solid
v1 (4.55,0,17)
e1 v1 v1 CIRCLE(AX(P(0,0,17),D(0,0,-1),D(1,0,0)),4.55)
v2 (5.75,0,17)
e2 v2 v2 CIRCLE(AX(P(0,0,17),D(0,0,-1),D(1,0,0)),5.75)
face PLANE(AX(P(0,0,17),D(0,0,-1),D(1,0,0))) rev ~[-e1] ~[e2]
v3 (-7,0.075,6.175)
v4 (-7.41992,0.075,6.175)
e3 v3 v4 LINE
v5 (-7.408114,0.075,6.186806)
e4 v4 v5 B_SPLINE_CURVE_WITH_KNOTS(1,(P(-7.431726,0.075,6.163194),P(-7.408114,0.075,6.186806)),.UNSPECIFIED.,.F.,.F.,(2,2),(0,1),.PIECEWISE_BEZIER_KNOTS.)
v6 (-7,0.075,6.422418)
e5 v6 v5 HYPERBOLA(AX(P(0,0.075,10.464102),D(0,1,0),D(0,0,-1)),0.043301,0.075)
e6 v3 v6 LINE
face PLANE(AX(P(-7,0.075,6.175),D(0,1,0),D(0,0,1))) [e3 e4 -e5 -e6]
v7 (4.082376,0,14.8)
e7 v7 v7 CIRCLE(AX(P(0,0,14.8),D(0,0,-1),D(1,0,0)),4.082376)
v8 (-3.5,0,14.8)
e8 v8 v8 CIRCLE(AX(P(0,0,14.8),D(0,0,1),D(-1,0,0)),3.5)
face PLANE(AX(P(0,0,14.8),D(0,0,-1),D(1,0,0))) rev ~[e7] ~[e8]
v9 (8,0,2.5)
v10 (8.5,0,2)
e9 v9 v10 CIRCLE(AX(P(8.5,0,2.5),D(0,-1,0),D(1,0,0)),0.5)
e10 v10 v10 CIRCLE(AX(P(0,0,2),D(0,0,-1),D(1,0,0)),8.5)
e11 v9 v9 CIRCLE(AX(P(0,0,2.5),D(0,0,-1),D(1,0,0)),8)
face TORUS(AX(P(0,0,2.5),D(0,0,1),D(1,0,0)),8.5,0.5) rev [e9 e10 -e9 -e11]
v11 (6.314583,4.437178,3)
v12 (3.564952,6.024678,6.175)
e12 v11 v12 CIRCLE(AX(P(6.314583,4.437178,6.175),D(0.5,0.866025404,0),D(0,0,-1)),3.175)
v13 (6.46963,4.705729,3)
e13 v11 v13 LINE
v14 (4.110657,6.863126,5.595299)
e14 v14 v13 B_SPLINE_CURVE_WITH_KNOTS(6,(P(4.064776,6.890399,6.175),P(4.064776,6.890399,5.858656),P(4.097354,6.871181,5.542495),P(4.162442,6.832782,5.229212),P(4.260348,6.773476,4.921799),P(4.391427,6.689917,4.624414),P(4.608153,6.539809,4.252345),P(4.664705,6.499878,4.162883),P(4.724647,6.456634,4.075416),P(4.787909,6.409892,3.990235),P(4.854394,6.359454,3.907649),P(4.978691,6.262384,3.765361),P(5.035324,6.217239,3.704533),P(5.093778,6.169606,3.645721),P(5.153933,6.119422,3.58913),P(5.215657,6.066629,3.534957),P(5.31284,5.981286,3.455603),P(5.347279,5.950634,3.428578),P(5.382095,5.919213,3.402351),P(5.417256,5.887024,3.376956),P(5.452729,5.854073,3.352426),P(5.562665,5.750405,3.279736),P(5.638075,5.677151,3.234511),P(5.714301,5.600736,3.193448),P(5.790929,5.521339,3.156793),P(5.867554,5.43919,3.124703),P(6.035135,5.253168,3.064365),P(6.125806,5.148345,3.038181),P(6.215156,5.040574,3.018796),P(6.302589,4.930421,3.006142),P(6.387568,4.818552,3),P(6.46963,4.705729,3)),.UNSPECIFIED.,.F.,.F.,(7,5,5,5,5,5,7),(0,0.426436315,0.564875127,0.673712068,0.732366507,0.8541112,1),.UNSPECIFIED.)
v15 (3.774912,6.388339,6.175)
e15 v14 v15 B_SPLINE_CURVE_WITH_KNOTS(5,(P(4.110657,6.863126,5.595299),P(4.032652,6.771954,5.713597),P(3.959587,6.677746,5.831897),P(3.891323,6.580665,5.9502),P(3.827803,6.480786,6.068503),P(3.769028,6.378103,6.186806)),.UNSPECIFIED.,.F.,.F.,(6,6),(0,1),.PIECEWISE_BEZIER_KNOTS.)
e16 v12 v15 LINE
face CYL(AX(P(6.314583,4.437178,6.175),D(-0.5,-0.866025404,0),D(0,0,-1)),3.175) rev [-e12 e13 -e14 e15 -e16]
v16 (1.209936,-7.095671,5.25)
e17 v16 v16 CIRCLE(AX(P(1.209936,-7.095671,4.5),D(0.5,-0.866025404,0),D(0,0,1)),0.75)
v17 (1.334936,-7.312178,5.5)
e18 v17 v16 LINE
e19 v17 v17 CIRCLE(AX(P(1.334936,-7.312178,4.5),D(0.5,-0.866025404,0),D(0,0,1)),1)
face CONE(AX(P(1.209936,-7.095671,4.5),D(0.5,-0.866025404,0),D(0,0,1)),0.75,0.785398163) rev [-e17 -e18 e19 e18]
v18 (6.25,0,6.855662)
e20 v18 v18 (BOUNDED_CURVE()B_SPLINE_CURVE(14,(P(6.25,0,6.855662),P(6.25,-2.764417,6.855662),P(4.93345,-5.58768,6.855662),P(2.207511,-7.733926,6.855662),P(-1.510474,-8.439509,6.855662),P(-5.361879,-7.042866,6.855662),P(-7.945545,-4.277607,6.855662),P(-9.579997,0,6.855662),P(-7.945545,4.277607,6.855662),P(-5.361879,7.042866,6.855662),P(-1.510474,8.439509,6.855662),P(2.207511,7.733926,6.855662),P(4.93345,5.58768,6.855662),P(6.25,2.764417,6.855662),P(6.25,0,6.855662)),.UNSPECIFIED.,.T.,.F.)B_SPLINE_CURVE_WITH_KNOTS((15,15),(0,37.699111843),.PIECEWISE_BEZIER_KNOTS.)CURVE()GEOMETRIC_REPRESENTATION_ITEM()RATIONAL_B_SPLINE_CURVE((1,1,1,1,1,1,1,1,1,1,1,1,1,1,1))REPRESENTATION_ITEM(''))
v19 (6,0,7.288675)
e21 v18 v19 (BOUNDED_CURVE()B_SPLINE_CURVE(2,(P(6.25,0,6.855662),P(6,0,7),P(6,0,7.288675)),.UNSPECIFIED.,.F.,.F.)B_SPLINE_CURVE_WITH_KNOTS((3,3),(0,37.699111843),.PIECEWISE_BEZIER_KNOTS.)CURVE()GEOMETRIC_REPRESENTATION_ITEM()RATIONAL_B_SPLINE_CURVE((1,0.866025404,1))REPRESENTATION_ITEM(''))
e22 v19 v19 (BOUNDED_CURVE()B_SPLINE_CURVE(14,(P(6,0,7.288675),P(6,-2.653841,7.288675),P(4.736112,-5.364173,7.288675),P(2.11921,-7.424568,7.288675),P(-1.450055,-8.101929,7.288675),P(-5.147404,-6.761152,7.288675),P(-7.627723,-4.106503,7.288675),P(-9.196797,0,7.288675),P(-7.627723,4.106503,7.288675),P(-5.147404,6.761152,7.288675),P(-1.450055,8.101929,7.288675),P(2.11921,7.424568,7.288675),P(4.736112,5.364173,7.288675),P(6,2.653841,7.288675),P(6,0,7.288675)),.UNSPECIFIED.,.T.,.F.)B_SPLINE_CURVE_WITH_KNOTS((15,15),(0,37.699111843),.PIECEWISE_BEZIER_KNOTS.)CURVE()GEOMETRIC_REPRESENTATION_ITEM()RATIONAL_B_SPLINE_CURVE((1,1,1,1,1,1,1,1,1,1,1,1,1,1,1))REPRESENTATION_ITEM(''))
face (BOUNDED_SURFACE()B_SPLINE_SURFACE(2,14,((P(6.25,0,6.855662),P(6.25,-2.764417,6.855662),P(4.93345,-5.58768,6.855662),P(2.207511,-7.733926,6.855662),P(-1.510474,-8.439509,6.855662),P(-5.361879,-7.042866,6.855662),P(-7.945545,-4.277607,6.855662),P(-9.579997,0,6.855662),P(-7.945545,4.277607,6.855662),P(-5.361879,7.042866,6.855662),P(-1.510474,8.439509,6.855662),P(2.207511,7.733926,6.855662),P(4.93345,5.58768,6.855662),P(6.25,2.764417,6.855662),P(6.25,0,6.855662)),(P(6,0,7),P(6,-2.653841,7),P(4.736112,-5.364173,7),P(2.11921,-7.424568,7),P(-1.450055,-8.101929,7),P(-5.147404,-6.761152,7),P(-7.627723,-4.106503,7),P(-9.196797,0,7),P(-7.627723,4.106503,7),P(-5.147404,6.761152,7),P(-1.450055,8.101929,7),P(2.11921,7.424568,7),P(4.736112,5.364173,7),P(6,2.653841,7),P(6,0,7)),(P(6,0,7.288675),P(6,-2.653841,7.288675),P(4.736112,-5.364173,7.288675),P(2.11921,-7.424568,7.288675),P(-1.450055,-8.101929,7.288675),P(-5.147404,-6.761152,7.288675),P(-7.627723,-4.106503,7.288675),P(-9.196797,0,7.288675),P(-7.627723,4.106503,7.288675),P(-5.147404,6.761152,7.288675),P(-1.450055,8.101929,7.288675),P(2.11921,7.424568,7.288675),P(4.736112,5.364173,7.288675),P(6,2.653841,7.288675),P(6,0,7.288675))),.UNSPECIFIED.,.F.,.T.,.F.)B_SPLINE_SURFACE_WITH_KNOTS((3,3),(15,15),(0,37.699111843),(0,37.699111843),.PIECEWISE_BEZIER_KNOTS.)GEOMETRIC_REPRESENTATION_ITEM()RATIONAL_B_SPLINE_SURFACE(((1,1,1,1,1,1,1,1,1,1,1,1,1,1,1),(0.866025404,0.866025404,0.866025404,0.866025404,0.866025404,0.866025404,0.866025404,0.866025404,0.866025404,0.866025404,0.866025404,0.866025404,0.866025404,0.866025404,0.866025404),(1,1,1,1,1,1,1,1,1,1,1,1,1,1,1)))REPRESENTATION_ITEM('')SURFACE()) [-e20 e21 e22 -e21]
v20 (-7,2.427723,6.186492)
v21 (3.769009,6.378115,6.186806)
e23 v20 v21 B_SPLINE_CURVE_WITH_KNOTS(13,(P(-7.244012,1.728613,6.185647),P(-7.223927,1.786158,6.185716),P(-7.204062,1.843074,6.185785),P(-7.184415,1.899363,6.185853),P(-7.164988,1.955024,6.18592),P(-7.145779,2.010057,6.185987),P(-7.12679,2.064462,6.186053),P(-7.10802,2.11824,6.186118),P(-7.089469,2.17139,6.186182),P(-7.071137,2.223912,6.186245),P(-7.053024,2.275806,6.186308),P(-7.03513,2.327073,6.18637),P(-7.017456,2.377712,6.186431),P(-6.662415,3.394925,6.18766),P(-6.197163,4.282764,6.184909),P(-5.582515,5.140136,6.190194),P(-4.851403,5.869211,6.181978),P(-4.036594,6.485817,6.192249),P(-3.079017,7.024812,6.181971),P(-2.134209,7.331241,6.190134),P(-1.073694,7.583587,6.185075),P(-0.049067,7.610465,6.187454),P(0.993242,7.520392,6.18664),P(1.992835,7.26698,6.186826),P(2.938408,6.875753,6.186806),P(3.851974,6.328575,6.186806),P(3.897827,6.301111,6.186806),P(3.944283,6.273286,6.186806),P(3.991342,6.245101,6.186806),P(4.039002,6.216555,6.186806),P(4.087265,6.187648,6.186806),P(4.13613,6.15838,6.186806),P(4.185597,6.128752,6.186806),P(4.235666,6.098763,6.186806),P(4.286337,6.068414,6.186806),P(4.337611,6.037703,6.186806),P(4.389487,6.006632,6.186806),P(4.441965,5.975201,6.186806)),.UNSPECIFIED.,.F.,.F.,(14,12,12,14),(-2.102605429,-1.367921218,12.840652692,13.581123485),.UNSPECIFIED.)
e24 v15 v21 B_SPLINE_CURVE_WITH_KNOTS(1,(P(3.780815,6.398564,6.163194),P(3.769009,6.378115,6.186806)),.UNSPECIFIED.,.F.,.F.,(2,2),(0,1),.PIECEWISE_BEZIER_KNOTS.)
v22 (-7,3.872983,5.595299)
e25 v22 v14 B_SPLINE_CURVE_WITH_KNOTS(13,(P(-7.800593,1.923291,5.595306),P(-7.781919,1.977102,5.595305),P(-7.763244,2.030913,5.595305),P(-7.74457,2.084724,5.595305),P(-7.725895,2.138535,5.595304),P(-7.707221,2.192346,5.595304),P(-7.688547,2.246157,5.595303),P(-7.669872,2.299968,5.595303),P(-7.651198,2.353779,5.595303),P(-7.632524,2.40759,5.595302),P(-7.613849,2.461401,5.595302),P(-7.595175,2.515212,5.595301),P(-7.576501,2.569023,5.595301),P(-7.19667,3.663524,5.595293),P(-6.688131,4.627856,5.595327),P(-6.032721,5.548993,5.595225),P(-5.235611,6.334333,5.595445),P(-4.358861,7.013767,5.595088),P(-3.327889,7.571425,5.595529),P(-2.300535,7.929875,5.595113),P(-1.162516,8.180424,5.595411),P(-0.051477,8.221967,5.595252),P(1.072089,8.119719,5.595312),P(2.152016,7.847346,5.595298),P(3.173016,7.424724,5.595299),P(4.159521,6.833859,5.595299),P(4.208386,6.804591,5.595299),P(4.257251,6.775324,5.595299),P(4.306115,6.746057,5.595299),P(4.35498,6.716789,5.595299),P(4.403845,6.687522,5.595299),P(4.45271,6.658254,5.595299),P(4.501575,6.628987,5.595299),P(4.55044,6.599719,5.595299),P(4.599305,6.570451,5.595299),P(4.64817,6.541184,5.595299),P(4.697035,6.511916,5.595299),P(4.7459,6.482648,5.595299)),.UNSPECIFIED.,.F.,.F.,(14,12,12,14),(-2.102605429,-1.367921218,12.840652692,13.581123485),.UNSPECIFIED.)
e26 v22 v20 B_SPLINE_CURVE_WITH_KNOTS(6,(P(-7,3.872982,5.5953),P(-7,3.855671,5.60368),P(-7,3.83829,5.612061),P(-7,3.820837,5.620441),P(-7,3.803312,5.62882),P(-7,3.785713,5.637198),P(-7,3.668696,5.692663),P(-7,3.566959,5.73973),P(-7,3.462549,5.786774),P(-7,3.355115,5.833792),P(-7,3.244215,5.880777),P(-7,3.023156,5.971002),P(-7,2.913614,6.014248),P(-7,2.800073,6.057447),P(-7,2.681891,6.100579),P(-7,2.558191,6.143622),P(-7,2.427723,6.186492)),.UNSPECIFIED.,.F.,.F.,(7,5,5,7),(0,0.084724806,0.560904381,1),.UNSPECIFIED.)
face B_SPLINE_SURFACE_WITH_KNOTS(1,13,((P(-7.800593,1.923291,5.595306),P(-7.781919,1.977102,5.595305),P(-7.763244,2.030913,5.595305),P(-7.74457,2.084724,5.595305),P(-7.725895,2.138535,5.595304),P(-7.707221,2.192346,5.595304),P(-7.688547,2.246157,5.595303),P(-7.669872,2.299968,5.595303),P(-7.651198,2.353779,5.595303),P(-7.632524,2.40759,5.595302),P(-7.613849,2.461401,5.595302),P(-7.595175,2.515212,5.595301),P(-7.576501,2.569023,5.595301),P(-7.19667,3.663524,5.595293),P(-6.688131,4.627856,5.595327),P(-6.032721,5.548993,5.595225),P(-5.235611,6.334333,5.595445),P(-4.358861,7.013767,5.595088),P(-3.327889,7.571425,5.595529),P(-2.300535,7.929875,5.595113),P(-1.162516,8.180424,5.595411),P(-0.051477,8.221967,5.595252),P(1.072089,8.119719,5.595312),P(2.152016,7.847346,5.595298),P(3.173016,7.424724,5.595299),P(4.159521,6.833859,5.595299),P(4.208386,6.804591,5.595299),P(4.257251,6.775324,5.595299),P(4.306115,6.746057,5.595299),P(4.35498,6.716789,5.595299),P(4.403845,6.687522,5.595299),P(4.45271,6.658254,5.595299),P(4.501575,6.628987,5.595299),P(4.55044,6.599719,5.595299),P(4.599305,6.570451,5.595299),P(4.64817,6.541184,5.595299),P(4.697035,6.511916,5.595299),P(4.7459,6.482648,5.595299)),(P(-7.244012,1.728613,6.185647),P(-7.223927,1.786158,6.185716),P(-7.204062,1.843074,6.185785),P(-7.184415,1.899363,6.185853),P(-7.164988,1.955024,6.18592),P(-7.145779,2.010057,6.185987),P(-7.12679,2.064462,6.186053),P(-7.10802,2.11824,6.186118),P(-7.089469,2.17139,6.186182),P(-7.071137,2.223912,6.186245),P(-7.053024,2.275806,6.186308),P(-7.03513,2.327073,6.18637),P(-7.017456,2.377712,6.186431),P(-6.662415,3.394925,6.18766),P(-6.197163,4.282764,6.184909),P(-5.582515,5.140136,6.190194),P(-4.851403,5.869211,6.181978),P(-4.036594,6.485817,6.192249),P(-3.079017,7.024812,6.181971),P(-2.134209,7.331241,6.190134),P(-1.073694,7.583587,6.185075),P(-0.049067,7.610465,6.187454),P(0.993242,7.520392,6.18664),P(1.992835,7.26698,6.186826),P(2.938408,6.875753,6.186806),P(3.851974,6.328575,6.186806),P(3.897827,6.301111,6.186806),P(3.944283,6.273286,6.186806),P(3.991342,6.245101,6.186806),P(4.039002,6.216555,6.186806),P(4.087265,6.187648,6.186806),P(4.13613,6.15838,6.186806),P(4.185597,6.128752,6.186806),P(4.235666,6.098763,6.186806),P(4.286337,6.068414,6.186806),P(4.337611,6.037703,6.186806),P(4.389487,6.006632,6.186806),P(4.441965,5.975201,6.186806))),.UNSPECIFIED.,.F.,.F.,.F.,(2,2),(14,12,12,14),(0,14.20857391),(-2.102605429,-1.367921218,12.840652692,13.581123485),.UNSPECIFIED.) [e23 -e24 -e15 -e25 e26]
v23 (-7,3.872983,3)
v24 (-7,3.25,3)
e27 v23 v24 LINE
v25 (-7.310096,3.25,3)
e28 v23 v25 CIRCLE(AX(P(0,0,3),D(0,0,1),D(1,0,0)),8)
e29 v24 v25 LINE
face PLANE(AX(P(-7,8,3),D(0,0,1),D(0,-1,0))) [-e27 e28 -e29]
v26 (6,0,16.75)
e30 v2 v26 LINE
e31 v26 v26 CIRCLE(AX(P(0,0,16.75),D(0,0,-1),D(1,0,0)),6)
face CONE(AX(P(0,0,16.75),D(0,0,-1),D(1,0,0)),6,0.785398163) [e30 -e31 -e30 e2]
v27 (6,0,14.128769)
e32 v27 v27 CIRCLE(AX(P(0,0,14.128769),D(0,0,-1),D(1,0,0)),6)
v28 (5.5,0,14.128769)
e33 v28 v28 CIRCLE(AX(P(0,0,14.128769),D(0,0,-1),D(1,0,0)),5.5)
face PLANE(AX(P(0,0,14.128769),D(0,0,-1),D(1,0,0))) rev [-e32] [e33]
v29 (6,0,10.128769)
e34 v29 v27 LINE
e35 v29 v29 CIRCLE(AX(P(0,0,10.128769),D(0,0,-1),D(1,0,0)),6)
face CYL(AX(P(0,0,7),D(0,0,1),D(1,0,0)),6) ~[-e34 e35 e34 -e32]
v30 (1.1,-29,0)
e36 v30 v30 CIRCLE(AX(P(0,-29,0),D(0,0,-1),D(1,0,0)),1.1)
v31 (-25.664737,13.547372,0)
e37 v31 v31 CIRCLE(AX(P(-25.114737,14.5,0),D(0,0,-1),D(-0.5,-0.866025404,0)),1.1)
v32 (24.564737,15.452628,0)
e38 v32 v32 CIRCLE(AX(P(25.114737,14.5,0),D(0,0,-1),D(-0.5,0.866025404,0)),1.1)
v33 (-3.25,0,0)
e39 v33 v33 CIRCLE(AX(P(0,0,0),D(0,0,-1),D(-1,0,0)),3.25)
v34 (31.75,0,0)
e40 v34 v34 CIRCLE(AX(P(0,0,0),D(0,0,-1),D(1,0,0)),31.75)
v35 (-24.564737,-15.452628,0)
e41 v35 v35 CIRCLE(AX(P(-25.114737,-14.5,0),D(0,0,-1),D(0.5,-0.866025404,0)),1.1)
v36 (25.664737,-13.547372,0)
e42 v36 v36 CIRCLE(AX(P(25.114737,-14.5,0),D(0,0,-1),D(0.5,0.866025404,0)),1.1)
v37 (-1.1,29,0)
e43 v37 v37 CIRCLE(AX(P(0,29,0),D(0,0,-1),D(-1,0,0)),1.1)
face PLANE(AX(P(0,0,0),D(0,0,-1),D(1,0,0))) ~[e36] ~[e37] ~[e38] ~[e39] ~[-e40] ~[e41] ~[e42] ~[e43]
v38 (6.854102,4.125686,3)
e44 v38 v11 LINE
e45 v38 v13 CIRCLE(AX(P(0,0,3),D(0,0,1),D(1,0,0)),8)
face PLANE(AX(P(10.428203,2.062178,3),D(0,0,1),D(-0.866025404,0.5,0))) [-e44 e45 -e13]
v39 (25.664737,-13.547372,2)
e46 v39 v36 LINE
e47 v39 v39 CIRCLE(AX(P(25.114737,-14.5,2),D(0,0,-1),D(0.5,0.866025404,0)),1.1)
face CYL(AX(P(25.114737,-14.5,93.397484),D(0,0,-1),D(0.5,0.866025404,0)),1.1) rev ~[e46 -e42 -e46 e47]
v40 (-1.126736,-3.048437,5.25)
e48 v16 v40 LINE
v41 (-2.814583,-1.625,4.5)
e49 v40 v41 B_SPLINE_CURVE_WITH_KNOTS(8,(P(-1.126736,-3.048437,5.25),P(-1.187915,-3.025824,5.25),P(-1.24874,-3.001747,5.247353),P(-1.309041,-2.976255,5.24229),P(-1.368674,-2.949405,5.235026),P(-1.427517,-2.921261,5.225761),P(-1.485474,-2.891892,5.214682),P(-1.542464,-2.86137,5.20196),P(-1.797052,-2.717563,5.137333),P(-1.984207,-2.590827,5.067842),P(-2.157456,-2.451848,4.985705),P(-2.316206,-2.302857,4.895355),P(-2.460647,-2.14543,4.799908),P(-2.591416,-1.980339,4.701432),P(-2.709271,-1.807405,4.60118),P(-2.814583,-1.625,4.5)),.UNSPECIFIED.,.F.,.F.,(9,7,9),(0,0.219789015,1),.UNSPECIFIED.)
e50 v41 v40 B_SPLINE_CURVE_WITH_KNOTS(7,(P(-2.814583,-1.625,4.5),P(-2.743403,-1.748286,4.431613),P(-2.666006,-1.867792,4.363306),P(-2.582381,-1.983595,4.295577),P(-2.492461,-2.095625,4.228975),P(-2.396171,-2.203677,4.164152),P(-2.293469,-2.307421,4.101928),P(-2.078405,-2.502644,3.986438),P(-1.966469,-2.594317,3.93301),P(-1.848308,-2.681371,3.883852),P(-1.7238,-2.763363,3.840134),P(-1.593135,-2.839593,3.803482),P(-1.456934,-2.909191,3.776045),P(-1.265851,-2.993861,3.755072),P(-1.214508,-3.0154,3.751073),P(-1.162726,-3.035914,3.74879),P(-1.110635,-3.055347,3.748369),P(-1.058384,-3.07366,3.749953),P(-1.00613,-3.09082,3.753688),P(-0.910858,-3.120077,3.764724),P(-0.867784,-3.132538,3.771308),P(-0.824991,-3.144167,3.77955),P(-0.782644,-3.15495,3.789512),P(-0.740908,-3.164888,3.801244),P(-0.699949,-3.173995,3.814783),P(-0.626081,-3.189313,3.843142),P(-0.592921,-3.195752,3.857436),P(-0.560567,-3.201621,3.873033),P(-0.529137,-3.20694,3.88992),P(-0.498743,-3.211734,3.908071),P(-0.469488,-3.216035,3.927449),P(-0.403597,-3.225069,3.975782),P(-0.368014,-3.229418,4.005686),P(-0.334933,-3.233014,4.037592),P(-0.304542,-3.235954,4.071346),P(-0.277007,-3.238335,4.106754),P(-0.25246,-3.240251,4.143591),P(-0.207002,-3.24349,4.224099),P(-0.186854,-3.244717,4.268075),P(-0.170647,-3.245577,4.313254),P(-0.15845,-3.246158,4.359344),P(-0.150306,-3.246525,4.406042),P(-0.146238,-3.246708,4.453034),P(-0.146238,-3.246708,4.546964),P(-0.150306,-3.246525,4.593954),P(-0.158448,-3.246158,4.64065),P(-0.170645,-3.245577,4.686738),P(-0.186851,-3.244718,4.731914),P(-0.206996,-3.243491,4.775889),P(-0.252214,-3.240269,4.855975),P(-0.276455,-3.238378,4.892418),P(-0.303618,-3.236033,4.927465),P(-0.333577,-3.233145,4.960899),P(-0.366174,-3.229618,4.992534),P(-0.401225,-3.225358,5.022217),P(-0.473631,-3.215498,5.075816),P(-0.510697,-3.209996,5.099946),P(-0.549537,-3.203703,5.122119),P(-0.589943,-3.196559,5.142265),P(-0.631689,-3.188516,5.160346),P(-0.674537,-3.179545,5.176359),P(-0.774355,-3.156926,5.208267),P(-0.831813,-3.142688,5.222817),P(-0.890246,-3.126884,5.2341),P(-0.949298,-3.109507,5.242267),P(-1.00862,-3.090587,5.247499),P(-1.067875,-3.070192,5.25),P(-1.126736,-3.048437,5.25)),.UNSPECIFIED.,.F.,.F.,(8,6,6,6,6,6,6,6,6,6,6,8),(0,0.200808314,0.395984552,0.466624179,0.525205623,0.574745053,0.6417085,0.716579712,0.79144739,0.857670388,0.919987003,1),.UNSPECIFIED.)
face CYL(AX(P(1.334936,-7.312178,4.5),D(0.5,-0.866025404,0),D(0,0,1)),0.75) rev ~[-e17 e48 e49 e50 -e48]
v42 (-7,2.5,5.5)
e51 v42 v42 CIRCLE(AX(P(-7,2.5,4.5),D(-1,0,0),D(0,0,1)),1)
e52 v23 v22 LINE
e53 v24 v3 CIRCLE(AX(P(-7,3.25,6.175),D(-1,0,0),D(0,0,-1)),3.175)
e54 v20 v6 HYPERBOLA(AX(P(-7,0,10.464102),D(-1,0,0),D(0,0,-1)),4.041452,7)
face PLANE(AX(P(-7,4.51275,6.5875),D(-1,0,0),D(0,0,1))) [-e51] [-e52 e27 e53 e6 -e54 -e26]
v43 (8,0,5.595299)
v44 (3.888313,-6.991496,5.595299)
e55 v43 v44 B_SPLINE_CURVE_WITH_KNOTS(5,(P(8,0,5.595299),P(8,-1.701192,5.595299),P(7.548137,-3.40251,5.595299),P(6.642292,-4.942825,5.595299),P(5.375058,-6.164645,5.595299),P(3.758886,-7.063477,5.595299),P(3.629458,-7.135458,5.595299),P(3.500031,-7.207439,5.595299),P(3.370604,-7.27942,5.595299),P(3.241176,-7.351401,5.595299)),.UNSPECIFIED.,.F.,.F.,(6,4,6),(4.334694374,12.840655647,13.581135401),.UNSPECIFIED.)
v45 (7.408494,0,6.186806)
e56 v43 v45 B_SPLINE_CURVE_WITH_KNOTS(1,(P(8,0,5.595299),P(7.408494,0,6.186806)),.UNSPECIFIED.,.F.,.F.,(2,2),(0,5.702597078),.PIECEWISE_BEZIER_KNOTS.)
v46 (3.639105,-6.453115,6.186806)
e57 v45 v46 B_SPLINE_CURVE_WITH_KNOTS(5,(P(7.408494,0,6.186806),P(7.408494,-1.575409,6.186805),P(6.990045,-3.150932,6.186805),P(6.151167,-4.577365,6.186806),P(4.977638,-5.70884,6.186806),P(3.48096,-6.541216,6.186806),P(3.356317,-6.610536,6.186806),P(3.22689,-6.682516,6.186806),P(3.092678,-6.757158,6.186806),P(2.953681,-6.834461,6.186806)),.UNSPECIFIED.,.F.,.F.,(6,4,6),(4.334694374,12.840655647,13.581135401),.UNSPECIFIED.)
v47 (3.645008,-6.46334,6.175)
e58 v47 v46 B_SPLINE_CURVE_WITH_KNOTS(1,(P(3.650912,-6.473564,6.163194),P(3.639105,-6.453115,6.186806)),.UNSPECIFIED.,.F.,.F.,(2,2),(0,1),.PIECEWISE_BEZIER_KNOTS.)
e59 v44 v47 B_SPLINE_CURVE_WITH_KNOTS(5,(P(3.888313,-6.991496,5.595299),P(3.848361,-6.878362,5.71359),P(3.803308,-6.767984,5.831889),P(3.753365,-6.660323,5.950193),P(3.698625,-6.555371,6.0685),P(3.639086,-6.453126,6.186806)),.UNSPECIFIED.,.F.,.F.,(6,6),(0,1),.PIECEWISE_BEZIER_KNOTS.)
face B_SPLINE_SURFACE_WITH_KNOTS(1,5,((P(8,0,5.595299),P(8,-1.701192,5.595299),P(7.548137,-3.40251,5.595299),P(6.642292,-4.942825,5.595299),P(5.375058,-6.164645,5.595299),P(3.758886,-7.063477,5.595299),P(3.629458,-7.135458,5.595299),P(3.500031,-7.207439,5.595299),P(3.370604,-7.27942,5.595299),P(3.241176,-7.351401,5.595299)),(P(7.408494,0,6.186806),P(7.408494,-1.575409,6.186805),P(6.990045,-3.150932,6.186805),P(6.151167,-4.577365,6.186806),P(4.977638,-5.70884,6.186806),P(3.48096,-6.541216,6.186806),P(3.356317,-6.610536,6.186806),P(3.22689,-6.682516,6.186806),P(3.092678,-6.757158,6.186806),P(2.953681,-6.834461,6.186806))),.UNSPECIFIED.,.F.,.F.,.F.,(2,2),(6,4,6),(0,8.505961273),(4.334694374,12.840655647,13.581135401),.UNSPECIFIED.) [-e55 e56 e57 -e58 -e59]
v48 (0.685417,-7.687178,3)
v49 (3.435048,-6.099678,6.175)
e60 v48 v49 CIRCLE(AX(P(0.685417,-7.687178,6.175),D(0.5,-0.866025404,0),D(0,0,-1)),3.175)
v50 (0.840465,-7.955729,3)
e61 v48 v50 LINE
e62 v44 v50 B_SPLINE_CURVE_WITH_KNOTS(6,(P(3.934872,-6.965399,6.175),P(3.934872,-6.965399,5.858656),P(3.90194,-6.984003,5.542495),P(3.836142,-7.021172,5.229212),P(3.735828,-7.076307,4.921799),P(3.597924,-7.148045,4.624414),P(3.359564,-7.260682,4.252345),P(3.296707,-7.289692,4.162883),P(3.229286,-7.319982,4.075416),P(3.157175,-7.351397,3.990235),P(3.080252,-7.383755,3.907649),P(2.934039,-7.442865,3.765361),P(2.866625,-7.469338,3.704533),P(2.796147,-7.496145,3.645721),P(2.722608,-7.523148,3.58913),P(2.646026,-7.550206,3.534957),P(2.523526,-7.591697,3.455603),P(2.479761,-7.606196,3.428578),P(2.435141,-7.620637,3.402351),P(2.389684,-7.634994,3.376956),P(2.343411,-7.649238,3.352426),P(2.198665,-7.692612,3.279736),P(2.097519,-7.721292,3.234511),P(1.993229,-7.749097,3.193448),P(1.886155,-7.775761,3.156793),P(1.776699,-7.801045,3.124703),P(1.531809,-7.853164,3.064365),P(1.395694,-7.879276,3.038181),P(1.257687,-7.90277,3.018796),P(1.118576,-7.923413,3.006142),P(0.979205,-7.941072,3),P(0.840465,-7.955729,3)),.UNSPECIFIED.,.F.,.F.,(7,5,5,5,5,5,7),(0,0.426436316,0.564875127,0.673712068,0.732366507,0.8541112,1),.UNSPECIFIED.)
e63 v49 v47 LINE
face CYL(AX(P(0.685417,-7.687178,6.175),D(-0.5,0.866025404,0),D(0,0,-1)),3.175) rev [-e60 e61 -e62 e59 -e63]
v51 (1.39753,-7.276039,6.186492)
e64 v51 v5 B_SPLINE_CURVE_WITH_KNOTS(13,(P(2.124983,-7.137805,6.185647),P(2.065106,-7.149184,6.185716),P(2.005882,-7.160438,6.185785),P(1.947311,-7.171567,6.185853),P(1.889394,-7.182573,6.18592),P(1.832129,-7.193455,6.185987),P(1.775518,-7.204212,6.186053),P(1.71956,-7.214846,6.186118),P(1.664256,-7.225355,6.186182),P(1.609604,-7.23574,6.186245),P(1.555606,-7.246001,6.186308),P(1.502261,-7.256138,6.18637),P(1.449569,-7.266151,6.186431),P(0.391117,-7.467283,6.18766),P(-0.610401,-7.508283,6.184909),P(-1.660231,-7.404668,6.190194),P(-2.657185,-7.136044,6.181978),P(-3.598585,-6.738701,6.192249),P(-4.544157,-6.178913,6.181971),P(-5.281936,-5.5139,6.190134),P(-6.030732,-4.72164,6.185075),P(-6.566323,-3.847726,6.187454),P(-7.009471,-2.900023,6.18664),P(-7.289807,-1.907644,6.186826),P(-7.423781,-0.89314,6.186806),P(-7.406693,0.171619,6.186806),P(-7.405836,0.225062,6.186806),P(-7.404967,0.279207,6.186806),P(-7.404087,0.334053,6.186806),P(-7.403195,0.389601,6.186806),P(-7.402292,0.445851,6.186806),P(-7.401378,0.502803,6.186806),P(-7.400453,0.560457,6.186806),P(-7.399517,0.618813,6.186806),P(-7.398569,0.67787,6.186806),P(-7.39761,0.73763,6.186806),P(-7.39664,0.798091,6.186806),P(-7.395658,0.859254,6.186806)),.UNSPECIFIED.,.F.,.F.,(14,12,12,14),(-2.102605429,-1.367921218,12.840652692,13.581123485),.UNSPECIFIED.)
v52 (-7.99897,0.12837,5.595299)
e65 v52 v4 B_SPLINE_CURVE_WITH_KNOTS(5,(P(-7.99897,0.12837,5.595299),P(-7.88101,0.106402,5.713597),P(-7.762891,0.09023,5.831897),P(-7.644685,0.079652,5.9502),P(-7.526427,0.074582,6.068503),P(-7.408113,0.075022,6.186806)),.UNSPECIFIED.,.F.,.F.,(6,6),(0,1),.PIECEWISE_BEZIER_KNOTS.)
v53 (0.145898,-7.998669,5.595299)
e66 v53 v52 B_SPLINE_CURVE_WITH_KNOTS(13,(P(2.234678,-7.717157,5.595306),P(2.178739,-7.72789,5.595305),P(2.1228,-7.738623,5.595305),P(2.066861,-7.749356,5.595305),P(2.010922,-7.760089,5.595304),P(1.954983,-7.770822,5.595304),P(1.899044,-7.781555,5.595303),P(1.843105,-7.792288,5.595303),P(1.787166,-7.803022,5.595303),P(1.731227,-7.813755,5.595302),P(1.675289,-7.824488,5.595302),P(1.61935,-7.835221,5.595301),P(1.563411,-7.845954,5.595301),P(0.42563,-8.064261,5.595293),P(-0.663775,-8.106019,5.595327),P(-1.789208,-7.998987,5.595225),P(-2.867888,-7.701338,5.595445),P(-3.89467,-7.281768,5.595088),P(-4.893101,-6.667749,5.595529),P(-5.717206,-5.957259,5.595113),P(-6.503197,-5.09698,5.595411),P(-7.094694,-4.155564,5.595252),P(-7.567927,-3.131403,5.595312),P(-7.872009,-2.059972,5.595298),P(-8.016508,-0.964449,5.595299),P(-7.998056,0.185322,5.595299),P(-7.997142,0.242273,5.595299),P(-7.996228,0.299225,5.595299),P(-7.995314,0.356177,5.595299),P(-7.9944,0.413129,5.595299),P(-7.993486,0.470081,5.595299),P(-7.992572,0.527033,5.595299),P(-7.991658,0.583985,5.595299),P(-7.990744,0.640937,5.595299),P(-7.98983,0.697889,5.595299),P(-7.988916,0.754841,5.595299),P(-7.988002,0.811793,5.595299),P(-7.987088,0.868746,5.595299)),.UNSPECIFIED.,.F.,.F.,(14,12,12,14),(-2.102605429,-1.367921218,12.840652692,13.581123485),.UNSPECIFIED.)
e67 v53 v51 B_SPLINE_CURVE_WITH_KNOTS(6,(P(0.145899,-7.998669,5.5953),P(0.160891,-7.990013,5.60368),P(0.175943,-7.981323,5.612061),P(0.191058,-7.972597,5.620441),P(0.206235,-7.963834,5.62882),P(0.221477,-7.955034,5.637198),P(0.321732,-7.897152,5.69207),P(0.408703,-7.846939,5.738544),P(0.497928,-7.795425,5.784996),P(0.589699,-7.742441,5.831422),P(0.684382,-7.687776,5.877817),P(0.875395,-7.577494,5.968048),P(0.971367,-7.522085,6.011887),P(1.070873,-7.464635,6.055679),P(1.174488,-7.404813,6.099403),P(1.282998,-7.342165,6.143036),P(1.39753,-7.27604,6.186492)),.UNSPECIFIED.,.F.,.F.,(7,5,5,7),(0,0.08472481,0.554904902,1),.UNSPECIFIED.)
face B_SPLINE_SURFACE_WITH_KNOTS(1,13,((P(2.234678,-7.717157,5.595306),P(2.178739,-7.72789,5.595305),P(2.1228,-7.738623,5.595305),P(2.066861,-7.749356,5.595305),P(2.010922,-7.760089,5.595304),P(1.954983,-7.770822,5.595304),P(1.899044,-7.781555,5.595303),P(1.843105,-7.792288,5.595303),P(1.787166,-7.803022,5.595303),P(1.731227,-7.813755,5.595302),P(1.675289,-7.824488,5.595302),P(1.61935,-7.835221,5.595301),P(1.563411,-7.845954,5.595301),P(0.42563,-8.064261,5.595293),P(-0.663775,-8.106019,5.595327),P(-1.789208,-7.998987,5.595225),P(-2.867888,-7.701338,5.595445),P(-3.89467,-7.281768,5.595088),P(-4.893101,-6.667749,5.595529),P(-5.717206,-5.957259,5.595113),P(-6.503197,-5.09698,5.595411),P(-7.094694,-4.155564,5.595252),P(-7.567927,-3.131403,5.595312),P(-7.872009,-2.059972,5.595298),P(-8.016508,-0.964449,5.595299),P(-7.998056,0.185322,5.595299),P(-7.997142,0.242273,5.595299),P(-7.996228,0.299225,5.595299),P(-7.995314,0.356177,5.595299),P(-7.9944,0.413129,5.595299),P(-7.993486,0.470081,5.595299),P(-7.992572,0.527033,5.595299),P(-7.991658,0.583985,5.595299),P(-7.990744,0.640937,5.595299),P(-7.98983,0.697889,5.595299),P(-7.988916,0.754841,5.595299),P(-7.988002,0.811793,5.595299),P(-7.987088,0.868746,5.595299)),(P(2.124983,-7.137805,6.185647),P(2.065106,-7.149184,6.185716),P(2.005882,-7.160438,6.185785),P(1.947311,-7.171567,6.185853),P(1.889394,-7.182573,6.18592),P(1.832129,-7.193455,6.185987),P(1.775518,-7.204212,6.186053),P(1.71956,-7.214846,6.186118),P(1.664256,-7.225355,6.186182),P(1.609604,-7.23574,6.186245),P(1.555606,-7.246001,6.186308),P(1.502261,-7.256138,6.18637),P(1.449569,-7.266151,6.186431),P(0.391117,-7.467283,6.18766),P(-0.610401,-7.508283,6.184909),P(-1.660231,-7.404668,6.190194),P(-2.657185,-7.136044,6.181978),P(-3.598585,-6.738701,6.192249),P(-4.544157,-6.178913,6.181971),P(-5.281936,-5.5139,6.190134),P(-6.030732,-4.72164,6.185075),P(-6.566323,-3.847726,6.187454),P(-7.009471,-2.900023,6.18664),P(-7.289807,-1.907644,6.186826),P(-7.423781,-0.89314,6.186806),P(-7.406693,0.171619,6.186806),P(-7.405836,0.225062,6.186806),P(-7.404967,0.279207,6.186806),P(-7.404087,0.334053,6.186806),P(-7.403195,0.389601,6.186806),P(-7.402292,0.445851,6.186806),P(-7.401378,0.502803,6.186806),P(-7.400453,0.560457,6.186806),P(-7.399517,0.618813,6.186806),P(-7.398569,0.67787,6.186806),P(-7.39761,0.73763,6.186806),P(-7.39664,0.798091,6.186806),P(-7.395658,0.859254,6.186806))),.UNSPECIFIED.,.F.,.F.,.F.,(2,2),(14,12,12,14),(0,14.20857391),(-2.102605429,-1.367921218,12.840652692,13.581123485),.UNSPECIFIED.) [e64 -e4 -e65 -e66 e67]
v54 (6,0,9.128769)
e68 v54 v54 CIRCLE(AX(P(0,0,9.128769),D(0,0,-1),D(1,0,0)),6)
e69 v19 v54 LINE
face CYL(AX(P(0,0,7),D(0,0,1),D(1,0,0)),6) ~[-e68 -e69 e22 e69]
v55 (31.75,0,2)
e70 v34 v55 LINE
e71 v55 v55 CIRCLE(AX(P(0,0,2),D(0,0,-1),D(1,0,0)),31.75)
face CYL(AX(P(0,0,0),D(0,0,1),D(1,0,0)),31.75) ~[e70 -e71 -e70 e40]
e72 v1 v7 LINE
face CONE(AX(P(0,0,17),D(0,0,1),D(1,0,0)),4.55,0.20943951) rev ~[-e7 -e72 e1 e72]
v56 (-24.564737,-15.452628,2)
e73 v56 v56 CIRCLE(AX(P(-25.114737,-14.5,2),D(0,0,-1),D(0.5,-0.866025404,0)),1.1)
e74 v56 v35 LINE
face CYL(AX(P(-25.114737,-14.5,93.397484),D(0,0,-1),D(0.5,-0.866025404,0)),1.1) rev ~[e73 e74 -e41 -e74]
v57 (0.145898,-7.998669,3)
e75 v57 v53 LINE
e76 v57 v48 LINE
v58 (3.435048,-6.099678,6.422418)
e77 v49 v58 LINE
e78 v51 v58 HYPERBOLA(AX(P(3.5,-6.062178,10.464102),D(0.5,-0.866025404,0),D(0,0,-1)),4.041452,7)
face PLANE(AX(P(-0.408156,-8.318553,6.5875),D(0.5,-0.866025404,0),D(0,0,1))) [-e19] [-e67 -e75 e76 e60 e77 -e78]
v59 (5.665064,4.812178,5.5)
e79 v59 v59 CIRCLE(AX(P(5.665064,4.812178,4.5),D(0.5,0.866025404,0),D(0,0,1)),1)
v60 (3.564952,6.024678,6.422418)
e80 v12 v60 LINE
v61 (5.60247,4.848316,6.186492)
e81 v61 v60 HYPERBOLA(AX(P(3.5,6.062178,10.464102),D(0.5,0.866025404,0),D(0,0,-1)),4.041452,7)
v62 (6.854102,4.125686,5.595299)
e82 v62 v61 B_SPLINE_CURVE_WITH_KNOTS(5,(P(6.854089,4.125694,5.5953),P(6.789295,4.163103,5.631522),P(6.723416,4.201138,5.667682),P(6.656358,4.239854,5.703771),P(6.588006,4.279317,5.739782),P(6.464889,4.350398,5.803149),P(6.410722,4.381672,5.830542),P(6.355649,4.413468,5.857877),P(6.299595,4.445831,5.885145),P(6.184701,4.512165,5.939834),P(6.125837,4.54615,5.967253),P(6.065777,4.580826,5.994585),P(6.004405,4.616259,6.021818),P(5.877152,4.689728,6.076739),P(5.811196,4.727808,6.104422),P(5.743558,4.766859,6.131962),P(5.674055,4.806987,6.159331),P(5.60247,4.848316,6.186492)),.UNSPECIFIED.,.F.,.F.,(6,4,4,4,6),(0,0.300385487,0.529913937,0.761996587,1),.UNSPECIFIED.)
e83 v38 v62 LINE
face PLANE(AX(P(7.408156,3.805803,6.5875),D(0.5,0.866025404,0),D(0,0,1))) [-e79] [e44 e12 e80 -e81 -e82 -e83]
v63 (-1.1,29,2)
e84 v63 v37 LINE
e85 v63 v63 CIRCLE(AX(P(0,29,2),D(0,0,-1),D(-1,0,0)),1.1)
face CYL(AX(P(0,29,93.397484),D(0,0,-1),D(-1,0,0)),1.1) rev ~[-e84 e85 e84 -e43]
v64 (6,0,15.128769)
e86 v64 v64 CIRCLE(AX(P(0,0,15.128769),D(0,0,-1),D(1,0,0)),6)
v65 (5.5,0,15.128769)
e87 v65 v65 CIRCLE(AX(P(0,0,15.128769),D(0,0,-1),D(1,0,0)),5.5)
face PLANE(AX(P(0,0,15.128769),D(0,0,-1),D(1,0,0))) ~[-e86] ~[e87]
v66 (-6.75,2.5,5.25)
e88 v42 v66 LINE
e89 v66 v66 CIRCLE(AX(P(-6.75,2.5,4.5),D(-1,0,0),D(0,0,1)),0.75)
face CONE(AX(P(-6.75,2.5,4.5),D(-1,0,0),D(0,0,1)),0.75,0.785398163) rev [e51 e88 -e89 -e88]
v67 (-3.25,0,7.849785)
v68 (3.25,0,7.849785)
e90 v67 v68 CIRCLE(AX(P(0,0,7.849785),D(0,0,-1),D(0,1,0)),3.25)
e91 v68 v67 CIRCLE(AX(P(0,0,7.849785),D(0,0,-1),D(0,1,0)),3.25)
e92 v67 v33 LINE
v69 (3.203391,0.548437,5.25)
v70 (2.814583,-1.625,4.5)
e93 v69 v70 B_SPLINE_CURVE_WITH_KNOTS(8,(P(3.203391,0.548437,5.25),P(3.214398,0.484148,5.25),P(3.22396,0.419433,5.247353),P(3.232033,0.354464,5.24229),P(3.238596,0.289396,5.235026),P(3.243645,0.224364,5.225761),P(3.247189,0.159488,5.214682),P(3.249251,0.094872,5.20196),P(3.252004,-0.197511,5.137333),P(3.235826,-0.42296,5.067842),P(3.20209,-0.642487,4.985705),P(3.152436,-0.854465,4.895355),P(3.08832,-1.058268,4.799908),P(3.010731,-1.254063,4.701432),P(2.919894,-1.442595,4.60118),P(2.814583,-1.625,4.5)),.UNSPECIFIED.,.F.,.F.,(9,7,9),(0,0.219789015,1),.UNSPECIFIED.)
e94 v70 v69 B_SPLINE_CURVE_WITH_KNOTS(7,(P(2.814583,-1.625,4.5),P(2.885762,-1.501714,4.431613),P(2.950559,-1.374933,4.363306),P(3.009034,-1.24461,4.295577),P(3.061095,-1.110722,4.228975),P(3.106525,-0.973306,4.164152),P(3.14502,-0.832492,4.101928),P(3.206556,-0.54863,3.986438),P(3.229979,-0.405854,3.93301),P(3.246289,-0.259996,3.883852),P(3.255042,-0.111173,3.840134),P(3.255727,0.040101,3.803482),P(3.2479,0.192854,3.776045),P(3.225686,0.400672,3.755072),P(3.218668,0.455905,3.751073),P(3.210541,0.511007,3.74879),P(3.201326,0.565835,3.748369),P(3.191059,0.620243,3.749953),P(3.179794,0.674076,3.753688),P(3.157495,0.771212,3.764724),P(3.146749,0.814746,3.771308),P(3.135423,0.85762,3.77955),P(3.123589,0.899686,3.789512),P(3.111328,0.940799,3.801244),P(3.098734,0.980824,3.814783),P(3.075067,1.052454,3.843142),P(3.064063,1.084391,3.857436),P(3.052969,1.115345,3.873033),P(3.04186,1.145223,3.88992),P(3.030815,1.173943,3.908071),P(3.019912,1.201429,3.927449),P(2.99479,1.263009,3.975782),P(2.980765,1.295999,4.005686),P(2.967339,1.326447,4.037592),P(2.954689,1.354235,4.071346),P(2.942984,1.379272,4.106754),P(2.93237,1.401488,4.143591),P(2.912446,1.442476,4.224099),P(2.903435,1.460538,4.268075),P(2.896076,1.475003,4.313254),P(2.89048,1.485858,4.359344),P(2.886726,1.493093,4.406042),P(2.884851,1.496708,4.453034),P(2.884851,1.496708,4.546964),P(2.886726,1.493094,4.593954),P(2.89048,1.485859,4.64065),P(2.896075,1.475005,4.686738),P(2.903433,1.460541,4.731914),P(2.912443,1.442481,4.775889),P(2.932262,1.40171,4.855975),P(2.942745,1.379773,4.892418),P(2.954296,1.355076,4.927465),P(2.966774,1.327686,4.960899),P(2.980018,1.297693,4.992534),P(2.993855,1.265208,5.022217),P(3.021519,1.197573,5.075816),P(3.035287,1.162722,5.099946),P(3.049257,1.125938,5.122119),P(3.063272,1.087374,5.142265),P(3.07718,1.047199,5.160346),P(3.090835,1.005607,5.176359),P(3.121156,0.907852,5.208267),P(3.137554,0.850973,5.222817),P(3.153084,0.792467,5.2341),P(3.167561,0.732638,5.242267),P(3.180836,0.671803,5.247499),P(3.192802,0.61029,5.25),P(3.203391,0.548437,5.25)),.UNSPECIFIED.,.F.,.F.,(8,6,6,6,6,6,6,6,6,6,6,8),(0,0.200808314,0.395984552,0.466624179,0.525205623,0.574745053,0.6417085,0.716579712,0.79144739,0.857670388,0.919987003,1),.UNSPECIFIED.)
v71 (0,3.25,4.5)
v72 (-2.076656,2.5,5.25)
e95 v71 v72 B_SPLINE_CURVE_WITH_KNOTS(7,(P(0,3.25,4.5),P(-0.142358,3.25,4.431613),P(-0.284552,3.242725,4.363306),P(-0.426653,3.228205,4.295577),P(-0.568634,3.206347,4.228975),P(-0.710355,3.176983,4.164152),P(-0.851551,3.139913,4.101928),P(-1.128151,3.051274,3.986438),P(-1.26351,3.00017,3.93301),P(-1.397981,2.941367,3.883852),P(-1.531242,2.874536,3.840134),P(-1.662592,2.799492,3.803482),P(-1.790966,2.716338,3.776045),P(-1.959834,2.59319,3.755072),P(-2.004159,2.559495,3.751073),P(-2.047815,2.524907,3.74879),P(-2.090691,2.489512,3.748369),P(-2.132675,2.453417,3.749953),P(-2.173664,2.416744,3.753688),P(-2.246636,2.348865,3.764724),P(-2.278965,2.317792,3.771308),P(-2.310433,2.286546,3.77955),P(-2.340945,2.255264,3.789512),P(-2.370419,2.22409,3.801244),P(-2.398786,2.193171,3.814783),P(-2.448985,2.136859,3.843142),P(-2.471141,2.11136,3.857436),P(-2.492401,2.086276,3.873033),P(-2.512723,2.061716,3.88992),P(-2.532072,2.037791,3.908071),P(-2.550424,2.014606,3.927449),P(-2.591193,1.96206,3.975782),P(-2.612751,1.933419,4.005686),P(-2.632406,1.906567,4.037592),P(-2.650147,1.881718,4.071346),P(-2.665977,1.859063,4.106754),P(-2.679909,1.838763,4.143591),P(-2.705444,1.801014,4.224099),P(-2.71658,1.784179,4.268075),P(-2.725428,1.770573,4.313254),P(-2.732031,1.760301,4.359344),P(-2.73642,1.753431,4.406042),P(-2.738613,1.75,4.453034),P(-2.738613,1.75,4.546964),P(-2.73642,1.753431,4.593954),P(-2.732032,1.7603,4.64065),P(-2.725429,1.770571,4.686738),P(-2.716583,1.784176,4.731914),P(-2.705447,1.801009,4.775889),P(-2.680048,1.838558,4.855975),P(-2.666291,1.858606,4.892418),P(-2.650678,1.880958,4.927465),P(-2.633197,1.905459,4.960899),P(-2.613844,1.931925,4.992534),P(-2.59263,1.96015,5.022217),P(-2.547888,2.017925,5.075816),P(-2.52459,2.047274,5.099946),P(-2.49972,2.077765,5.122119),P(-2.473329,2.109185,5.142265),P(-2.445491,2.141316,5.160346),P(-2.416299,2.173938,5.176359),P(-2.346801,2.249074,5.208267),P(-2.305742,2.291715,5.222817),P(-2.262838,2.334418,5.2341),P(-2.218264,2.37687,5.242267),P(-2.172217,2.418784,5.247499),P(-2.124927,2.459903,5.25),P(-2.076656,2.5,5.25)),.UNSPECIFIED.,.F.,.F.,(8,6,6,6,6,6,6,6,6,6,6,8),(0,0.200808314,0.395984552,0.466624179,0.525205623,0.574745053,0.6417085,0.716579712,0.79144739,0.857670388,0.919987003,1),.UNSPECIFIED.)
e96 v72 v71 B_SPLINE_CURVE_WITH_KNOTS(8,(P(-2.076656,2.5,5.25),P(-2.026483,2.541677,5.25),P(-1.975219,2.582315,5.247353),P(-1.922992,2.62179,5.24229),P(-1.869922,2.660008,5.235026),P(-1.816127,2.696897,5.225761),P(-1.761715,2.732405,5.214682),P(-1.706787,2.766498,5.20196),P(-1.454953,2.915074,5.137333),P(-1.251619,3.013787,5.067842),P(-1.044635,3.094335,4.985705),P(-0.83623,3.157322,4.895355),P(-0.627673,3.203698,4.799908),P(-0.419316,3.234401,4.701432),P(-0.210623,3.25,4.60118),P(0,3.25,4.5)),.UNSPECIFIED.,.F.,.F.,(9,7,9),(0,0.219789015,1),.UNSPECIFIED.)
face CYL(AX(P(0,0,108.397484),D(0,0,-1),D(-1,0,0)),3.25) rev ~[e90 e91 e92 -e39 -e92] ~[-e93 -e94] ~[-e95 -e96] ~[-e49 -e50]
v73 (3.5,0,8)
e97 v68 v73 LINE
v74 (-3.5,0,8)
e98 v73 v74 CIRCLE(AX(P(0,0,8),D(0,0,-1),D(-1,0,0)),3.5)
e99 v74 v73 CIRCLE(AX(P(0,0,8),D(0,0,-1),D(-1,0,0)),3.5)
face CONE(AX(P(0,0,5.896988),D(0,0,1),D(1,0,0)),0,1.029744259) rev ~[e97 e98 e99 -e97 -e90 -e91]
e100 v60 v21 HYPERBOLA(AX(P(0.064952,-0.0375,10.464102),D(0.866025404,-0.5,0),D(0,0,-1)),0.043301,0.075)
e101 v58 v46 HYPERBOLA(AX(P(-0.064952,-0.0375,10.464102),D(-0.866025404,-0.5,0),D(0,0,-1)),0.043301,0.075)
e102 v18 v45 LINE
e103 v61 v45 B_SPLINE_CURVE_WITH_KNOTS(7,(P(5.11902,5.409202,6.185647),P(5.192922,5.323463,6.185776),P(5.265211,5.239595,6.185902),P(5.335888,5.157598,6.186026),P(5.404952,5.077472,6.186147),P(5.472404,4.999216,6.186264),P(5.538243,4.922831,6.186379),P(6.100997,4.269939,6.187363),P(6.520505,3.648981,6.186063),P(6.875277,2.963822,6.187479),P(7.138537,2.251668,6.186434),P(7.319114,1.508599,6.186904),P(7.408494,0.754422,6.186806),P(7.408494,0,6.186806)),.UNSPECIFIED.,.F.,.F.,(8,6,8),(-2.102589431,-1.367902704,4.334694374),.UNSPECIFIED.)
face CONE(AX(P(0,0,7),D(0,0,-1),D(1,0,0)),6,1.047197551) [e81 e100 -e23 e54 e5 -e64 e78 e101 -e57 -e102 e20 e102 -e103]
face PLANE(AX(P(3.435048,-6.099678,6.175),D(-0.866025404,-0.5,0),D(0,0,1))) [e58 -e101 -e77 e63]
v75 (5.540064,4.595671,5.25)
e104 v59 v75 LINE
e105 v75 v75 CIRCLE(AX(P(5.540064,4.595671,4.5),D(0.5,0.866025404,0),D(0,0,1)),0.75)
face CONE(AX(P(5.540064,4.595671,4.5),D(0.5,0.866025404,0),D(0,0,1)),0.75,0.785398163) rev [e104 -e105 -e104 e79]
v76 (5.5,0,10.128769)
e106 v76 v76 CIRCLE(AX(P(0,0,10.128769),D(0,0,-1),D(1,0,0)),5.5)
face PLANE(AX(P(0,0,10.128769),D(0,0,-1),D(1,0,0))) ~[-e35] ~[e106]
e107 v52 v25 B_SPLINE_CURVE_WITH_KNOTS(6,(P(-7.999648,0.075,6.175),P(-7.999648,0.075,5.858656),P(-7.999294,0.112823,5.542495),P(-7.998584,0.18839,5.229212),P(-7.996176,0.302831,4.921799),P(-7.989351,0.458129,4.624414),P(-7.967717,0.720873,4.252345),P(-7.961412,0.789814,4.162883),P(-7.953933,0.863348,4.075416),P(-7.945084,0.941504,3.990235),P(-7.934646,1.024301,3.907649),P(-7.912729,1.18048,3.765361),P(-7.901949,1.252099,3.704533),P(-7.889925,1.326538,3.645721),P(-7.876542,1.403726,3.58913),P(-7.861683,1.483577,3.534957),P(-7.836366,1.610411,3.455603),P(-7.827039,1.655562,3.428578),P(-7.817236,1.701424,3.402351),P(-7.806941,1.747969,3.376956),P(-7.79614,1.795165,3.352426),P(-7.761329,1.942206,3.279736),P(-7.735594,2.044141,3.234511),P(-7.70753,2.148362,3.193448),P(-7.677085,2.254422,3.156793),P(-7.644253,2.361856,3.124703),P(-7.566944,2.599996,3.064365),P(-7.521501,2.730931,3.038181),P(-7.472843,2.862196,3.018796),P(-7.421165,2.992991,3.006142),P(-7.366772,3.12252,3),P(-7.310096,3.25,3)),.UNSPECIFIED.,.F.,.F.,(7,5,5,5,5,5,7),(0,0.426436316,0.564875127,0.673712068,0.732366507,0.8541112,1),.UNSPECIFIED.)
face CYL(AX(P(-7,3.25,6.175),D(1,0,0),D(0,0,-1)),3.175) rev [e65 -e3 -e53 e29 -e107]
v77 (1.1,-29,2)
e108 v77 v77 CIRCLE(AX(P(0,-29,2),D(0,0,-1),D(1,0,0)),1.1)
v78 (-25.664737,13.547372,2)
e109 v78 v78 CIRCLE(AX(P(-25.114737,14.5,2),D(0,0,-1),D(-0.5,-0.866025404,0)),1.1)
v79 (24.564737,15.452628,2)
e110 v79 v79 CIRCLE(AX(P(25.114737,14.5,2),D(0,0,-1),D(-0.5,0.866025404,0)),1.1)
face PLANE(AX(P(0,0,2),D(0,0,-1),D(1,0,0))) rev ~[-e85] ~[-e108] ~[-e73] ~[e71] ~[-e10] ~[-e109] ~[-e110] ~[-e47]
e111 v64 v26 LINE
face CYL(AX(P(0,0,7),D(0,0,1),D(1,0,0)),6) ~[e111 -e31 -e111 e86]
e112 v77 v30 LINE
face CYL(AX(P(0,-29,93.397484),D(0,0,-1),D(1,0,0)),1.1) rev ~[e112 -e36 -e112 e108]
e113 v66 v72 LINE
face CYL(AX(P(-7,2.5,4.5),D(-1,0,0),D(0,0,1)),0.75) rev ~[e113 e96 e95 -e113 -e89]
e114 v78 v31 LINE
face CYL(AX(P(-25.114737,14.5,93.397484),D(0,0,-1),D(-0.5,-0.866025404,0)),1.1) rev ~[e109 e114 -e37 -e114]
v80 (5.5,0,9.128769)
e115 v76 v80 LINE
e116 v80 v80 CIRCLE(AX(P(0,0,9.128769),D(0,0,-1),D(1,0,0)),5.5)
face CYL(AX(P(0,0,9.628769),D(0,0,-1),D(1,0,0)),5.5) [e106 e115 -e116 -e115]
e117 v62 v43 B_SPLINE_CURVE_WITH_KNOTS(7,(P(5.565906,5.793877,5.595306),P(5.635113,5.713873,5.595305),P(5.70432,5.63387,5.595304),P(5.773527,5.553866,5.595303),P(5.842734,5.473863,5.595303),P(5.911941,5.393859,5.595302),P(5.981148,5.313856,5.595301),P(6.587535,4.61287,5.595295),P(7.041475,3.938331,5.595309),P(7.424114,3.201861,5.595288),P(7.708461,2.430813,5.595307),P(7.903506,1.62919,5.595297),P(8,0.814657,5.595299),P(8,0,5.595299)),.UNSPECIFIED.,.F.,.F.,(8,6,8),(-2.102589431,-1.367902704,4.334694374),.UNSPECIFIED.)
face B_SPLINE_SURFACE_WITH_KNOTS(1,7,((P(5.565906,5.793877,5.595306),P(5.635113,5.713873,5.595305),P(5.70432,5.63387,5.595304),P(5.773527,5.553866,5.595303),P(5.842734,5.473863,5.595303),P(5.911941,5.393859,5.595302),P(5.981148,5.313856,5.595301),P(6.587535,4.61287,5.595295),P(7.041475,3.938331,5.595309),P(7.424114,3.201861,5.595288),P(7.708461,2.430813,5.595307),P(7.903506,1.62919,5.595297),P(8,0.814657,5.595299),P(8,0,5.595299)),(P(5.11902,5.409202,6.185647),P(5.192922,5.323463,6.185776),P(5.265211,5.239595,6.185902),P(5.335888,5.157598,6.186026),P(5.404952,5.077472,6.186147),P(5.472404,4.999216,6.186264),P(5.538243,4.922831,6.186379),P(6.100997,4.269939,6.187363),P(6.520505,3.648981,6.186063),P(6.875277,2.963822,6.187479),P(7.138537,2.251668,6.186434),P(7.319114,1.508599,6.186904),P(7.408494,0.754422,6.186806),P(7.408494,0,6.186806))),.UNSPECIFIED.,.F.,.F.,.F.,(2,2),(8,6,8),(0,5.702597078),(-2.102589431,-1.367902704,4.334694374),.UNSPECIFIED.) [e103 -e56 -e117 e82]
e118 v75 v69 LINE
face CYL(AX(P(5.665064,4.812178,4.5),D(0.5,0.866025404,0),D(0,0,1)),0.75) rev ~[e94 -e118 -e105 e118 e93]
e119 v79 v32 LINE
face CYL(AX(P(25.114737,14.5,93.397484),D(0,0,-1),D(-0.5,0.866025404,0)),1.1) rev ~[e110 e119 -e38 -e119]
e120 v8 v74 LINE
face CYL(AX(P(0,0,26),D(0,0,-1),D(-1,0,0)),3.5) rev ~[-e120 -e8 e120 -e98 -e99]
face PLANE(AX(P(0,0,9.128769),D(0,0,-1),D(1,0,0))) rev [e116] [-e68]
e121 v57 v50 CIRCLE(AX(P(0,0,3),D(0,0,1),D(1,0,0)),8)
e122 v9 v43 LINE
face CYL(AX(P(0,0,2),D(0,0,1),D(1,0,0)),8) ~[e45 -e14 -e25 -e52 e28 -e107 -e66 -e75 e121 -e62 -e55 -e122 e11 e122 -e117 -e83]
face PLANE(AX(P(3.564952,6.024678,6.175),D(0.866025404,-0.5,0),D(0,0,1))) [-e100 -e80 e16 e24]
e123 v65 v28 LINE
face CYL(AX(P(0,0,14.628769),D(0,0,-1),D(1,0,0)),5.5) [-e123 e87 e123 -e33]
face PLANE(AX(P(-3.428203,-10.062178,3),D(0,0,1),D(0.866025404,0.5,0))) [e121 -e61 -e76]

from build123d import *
from OCP.BRepFilletAPI import BRepFilletAPI_MakeChamfer

# Parameters (mm, degrees)
F_6_5_6_5_DIAMETER_HOLE1_D   = 6.5
F_7_0_7_DIAMETER_HOLE1_D     = 7
F_7_0_7_DIAMETER_HOLE1_DEPTH = 9
F_7_0_7_DIAMETER_HOLE1_TIP   = 2.103012167
DRILL_START                  = -7
DRILL_FLAT_DEPTH             = 42.01171732
FUEL_INLET_REACH             = 54.902
FUEL_INLET_END_RADIUS        = 3.25
SKETCH7_R                    = 0.75
INLETS_COUNT                 = 3
SKETCH10_W                   = 1
SKETCH10_H                   = 0.5
TOOL_RAD_R                   = 0.5
EDGE_BREAK_SIZE              = 0.25
EDGE_BREAK_SIZE2             = 0.683012702
F_2_2_2_2_DIAMETER_HOLE1_D   = 2.2
CIRPATTERN1_COUNT            = 6


with BuildPart() as part:
    # Sketch2 → Main Base (revolve)
    with BuildSketch(Plane(origin=(0, 0, 0), x_dir=(0, 0, -1), z_dir=(1, 0, 0)), mode=Mode.PRIVATE) as main_base_sk:
        Polygon((0, 0), (0, 31.75), (-2, 31.75), (-2, 8), (-7, 8), (-7, 6), (-17, 6), (-17, 0), align=None)
    revolve(main_base_sk.sketch.rotate(Axis((0, 0, -29.195597269), (0, 0, -1)), 90), axis=Axis((0, 0, -29.195597269), (0, 0, -1)))

    # Ø6.5 (6.5) Diameter Hole1 (through all)
    with Locations(Plane.XY.offset(17)):
        with Locations((0, 0)):
            Hole(F_6_5_6_5_DIAMETER_HOLE1_D / 2)

    # Ø7.0 (7) Diameter Hole1
    with Locations(Plane.XY.offset(17)):
        with Locations((0, 0)):
            Hole(F_7_0_7_DIAMETER_HOLE1_D / 2, depth=F_7_0_7_DIAMETER_HOLE1_DEPTH)
            with Locations((0, 0, -(F_7_0_7_DIAMETER_HOLE1_DEPTH + F_7_0_7_DIAMETER_HOLE1_TIP / 2))):  # 118° drill point
                Cone(0, F_7_0_7_DIAMETER_HOLE1_D / 2, F_7_0_7_DIAMETER_HOLE1_TIP, mode=Mode.SUBTRACT)

    # Sketch6 → Drill Flat (cut, through all)
    with BuildSketch(Plane(origin=(0, 0, 0), x_dir=(0, 0, -1), z_dir=(1, 0, 0)).offset(DRILL_START)):
        with BuildLine():
            Line((-6.175, 0.075), (-7, 0.075))
            ThreePointArc((-7, 0.075), (-9.24506403, 1.00493597), (-10.175, 3.25))
            Line((-10.175, 3.25), (-10.175, 8))
            Line((-10.175, 8), (-3, 8))
            Line((-3, 8), (-3, 3.25))
            ThreePointArc((-3, 3.25), (-3.92993597, 1.00493597), (-6.175, 0.075))
        make_face()
    drill_flat = extrude(amount=-DRILL_FLAT_DEPTH, mode=Mode.SUBTRACT)

    # Fuel Inlet: up to this cylinder (the profile starts outside it)
    fuel_inlet_end = Plane(origin=(0, 0, 4.5), z_dir=(0, 0, 1)) * Cylinder(FUEL_INLET_END_RADIUS, 117.304, mode=Mode.PRIVATE)
    # Sketch7 → Fuel Inlet (cut, up to the surface)
    with BuildSketch(Plane.ZY.offset(7), mode=Mode.PRIVATE) as fuel_inlet_sk1:
        with Locations((4.5, 2.5)):
            Circle(SKETCH7_R)
    fuel_inlet_tool1 = extrude(fuel_inlet_sk1.sketch, amount=-FUEL_INLET_REACH, mode=Mode.PRIVATE) - fuel_inlet_end
    fuel_inlet = fuel_inlet_tool1.solids().sort_by_distance((-7, 2.5, 4.5))[0]
    add(fuel_inlet, mode=Mode.SUBTRACT)

    # Inlets: Drill Flat, Fuel Inlet ×3 about axis
    inlets_axis = Axis((0, 0, 0), (0, 0, 1))
    add([drill_flat.rotate(inlets_axis, i * 360 / INLETS_COUNT) for i in range(1, INLETS_COUNT)], mode=Mode.SUBTRACT)
    add([fuel_inlet.rotate(inlets_axis, i * 360 / INLETS_COUNT) for i in range(1, INLETS_COUNT)], mode=Mode.SUBTRACT)

    # Sketch8 → Cone Cut (revolve, cut)
    with BuildSketch(Plane(origin=(0, 0, 0), x_dir=(0, 0, -1), z_dir=(1, 0, 0)), mode=Mode.PRIVATE) as cone_cut_sk:
        Polygon((-7, 6), (-5.845299462, 8), (-7, 8), align=None)
    revolve(cone_cut_sk.sketch.rotate(Axis((0, 0, 58.5), (0, 0, -1)), 90), axis=Axis((0, 0, 58.5), (0, 0, -1)), mode=Mode.SUBTRACT)

    # Sketch10 → Radial O-rings (revolve, cut)
    with BuildSketch(Plane(origin=(0, 0, 0), x_dir=(0, 0, -1), z_dir=(1, 0, 0)), mode=Mode.PRIVATE) as radial_o_rings_sk:
        with Locations((-9.628768748, 5.75)):
            Rectangle(SKETCH10_W, SKETCH10_H)
        with Locations((-14.628768748, 5.75)):
            Rectangle(SKETCH10_W, SKETCH10_H)
    revolve(radial_o_rings_sk.sketch.rotate(Axis((0, 0, 58.5), (0, 0, -1)), 90), axis=Axis((0, 0, 58.5), (0, 0, -1)), mode=Mode.SUBTRACT)

    # Sketch11 → ORB Port (revolve, cut)
    with BuildSketch(Plane(origin=(0, 0, 0), x_dir=(0, 0, -1), z_dir=(1, 0, 0)), mode=Mode.PRIVATE) as orb_port_sk:
        Polygon((-17, 4.55), (-14.8, 4.082375564), (-14.8, 3.5), (-17, 3.5), align=None)
    revolve(orb_port_sk.sketch.rotate(Axis((0, 0, 17.730420959), (0, 0, -1)), 90), axis=Axis((0, 0, 17.730420959), (0, 0, -1)), mode=Mode.SUBTRACT)

    # Tool Rad
    tool_rad_edges = [part.edges().sort_by_distance(p)[0] for p in [
        (-6, 0, 7),
        (-8, 0, 2),
    ]]
    fillet(tool_rad_edges, radius=TOOL_RAD_R)

    # Edge Break: one chamfer whose edges measure the first distance from different faces: ONE call of the kernel's chamfer builder (chamfer() names one face for all edges)
    edge_break_edges_1 = [part.edges().sort_by_distance(p)[0] for p in [
        (-6, 0, 17),
        (5.665063509, 4.812177826, 3.75),
        (1.334936491, -7.312177826, 3.75),
        (-7, 2.5, 3.75),
    ]]
    edge_break_edges_2 = [part.edges().sort_by_distance(p)[0] for p in [
        (-5.637822703, -5.675821982, 5.845299462),
        (-2.096494672, 7.720408674, 5.845299462),
        (6.905046679, -4.039842864, 5.845299462),
    ]]
    edge_break_side_2 = [part.faces().sort_by_distance(p)[0] for p in [
        (-8, 0, 4.172649731),
    ]]
    edge_break = BRepFilletAPI_MakeChamfer(part.part.solid().wrapped)
    for e in edge_break_edges_1:
        edge_break.Add(EDGE_BREAK_SIZE, e.wrapped)
    for e in edge_break_edges_2:
        edge_break.Add(EDGE_BREAK_SIZE, EDGE_BREAK_SIZE2, e.wrapped, edge_break_side_2[0].wrapped)  # the first distance lies on this face
    add(Compound.cast(edge_break.Shape()), mode=Mode.REPLACE)

    # Ø2.2 (2.2) Diameter Hole1 (through all)
    with Locations(Plane.XY.offset(2)):
        with Locations((0, 29)):
            f_2_2_2_2_diameter_hole1 = Hole(F_2_2_2_2_DIAMETER_HOLE1_D / 2)

    # CirPattern1: Ø2.2 (2.2) Diameter Hole1 ×6 about axis
    cirpattern1_axis = Axis((0, 0, 0), (0, 0, 1))
    for i in range(1, CIRPATTERN1_COUNT):
        add(f_2_2_2_2_diameter_hole1.rotate(cirpattern1_axis, i * 360 / CIRPATTERN1_COUNT), mode=Mode.SUBTRACT)


solid = part.part
